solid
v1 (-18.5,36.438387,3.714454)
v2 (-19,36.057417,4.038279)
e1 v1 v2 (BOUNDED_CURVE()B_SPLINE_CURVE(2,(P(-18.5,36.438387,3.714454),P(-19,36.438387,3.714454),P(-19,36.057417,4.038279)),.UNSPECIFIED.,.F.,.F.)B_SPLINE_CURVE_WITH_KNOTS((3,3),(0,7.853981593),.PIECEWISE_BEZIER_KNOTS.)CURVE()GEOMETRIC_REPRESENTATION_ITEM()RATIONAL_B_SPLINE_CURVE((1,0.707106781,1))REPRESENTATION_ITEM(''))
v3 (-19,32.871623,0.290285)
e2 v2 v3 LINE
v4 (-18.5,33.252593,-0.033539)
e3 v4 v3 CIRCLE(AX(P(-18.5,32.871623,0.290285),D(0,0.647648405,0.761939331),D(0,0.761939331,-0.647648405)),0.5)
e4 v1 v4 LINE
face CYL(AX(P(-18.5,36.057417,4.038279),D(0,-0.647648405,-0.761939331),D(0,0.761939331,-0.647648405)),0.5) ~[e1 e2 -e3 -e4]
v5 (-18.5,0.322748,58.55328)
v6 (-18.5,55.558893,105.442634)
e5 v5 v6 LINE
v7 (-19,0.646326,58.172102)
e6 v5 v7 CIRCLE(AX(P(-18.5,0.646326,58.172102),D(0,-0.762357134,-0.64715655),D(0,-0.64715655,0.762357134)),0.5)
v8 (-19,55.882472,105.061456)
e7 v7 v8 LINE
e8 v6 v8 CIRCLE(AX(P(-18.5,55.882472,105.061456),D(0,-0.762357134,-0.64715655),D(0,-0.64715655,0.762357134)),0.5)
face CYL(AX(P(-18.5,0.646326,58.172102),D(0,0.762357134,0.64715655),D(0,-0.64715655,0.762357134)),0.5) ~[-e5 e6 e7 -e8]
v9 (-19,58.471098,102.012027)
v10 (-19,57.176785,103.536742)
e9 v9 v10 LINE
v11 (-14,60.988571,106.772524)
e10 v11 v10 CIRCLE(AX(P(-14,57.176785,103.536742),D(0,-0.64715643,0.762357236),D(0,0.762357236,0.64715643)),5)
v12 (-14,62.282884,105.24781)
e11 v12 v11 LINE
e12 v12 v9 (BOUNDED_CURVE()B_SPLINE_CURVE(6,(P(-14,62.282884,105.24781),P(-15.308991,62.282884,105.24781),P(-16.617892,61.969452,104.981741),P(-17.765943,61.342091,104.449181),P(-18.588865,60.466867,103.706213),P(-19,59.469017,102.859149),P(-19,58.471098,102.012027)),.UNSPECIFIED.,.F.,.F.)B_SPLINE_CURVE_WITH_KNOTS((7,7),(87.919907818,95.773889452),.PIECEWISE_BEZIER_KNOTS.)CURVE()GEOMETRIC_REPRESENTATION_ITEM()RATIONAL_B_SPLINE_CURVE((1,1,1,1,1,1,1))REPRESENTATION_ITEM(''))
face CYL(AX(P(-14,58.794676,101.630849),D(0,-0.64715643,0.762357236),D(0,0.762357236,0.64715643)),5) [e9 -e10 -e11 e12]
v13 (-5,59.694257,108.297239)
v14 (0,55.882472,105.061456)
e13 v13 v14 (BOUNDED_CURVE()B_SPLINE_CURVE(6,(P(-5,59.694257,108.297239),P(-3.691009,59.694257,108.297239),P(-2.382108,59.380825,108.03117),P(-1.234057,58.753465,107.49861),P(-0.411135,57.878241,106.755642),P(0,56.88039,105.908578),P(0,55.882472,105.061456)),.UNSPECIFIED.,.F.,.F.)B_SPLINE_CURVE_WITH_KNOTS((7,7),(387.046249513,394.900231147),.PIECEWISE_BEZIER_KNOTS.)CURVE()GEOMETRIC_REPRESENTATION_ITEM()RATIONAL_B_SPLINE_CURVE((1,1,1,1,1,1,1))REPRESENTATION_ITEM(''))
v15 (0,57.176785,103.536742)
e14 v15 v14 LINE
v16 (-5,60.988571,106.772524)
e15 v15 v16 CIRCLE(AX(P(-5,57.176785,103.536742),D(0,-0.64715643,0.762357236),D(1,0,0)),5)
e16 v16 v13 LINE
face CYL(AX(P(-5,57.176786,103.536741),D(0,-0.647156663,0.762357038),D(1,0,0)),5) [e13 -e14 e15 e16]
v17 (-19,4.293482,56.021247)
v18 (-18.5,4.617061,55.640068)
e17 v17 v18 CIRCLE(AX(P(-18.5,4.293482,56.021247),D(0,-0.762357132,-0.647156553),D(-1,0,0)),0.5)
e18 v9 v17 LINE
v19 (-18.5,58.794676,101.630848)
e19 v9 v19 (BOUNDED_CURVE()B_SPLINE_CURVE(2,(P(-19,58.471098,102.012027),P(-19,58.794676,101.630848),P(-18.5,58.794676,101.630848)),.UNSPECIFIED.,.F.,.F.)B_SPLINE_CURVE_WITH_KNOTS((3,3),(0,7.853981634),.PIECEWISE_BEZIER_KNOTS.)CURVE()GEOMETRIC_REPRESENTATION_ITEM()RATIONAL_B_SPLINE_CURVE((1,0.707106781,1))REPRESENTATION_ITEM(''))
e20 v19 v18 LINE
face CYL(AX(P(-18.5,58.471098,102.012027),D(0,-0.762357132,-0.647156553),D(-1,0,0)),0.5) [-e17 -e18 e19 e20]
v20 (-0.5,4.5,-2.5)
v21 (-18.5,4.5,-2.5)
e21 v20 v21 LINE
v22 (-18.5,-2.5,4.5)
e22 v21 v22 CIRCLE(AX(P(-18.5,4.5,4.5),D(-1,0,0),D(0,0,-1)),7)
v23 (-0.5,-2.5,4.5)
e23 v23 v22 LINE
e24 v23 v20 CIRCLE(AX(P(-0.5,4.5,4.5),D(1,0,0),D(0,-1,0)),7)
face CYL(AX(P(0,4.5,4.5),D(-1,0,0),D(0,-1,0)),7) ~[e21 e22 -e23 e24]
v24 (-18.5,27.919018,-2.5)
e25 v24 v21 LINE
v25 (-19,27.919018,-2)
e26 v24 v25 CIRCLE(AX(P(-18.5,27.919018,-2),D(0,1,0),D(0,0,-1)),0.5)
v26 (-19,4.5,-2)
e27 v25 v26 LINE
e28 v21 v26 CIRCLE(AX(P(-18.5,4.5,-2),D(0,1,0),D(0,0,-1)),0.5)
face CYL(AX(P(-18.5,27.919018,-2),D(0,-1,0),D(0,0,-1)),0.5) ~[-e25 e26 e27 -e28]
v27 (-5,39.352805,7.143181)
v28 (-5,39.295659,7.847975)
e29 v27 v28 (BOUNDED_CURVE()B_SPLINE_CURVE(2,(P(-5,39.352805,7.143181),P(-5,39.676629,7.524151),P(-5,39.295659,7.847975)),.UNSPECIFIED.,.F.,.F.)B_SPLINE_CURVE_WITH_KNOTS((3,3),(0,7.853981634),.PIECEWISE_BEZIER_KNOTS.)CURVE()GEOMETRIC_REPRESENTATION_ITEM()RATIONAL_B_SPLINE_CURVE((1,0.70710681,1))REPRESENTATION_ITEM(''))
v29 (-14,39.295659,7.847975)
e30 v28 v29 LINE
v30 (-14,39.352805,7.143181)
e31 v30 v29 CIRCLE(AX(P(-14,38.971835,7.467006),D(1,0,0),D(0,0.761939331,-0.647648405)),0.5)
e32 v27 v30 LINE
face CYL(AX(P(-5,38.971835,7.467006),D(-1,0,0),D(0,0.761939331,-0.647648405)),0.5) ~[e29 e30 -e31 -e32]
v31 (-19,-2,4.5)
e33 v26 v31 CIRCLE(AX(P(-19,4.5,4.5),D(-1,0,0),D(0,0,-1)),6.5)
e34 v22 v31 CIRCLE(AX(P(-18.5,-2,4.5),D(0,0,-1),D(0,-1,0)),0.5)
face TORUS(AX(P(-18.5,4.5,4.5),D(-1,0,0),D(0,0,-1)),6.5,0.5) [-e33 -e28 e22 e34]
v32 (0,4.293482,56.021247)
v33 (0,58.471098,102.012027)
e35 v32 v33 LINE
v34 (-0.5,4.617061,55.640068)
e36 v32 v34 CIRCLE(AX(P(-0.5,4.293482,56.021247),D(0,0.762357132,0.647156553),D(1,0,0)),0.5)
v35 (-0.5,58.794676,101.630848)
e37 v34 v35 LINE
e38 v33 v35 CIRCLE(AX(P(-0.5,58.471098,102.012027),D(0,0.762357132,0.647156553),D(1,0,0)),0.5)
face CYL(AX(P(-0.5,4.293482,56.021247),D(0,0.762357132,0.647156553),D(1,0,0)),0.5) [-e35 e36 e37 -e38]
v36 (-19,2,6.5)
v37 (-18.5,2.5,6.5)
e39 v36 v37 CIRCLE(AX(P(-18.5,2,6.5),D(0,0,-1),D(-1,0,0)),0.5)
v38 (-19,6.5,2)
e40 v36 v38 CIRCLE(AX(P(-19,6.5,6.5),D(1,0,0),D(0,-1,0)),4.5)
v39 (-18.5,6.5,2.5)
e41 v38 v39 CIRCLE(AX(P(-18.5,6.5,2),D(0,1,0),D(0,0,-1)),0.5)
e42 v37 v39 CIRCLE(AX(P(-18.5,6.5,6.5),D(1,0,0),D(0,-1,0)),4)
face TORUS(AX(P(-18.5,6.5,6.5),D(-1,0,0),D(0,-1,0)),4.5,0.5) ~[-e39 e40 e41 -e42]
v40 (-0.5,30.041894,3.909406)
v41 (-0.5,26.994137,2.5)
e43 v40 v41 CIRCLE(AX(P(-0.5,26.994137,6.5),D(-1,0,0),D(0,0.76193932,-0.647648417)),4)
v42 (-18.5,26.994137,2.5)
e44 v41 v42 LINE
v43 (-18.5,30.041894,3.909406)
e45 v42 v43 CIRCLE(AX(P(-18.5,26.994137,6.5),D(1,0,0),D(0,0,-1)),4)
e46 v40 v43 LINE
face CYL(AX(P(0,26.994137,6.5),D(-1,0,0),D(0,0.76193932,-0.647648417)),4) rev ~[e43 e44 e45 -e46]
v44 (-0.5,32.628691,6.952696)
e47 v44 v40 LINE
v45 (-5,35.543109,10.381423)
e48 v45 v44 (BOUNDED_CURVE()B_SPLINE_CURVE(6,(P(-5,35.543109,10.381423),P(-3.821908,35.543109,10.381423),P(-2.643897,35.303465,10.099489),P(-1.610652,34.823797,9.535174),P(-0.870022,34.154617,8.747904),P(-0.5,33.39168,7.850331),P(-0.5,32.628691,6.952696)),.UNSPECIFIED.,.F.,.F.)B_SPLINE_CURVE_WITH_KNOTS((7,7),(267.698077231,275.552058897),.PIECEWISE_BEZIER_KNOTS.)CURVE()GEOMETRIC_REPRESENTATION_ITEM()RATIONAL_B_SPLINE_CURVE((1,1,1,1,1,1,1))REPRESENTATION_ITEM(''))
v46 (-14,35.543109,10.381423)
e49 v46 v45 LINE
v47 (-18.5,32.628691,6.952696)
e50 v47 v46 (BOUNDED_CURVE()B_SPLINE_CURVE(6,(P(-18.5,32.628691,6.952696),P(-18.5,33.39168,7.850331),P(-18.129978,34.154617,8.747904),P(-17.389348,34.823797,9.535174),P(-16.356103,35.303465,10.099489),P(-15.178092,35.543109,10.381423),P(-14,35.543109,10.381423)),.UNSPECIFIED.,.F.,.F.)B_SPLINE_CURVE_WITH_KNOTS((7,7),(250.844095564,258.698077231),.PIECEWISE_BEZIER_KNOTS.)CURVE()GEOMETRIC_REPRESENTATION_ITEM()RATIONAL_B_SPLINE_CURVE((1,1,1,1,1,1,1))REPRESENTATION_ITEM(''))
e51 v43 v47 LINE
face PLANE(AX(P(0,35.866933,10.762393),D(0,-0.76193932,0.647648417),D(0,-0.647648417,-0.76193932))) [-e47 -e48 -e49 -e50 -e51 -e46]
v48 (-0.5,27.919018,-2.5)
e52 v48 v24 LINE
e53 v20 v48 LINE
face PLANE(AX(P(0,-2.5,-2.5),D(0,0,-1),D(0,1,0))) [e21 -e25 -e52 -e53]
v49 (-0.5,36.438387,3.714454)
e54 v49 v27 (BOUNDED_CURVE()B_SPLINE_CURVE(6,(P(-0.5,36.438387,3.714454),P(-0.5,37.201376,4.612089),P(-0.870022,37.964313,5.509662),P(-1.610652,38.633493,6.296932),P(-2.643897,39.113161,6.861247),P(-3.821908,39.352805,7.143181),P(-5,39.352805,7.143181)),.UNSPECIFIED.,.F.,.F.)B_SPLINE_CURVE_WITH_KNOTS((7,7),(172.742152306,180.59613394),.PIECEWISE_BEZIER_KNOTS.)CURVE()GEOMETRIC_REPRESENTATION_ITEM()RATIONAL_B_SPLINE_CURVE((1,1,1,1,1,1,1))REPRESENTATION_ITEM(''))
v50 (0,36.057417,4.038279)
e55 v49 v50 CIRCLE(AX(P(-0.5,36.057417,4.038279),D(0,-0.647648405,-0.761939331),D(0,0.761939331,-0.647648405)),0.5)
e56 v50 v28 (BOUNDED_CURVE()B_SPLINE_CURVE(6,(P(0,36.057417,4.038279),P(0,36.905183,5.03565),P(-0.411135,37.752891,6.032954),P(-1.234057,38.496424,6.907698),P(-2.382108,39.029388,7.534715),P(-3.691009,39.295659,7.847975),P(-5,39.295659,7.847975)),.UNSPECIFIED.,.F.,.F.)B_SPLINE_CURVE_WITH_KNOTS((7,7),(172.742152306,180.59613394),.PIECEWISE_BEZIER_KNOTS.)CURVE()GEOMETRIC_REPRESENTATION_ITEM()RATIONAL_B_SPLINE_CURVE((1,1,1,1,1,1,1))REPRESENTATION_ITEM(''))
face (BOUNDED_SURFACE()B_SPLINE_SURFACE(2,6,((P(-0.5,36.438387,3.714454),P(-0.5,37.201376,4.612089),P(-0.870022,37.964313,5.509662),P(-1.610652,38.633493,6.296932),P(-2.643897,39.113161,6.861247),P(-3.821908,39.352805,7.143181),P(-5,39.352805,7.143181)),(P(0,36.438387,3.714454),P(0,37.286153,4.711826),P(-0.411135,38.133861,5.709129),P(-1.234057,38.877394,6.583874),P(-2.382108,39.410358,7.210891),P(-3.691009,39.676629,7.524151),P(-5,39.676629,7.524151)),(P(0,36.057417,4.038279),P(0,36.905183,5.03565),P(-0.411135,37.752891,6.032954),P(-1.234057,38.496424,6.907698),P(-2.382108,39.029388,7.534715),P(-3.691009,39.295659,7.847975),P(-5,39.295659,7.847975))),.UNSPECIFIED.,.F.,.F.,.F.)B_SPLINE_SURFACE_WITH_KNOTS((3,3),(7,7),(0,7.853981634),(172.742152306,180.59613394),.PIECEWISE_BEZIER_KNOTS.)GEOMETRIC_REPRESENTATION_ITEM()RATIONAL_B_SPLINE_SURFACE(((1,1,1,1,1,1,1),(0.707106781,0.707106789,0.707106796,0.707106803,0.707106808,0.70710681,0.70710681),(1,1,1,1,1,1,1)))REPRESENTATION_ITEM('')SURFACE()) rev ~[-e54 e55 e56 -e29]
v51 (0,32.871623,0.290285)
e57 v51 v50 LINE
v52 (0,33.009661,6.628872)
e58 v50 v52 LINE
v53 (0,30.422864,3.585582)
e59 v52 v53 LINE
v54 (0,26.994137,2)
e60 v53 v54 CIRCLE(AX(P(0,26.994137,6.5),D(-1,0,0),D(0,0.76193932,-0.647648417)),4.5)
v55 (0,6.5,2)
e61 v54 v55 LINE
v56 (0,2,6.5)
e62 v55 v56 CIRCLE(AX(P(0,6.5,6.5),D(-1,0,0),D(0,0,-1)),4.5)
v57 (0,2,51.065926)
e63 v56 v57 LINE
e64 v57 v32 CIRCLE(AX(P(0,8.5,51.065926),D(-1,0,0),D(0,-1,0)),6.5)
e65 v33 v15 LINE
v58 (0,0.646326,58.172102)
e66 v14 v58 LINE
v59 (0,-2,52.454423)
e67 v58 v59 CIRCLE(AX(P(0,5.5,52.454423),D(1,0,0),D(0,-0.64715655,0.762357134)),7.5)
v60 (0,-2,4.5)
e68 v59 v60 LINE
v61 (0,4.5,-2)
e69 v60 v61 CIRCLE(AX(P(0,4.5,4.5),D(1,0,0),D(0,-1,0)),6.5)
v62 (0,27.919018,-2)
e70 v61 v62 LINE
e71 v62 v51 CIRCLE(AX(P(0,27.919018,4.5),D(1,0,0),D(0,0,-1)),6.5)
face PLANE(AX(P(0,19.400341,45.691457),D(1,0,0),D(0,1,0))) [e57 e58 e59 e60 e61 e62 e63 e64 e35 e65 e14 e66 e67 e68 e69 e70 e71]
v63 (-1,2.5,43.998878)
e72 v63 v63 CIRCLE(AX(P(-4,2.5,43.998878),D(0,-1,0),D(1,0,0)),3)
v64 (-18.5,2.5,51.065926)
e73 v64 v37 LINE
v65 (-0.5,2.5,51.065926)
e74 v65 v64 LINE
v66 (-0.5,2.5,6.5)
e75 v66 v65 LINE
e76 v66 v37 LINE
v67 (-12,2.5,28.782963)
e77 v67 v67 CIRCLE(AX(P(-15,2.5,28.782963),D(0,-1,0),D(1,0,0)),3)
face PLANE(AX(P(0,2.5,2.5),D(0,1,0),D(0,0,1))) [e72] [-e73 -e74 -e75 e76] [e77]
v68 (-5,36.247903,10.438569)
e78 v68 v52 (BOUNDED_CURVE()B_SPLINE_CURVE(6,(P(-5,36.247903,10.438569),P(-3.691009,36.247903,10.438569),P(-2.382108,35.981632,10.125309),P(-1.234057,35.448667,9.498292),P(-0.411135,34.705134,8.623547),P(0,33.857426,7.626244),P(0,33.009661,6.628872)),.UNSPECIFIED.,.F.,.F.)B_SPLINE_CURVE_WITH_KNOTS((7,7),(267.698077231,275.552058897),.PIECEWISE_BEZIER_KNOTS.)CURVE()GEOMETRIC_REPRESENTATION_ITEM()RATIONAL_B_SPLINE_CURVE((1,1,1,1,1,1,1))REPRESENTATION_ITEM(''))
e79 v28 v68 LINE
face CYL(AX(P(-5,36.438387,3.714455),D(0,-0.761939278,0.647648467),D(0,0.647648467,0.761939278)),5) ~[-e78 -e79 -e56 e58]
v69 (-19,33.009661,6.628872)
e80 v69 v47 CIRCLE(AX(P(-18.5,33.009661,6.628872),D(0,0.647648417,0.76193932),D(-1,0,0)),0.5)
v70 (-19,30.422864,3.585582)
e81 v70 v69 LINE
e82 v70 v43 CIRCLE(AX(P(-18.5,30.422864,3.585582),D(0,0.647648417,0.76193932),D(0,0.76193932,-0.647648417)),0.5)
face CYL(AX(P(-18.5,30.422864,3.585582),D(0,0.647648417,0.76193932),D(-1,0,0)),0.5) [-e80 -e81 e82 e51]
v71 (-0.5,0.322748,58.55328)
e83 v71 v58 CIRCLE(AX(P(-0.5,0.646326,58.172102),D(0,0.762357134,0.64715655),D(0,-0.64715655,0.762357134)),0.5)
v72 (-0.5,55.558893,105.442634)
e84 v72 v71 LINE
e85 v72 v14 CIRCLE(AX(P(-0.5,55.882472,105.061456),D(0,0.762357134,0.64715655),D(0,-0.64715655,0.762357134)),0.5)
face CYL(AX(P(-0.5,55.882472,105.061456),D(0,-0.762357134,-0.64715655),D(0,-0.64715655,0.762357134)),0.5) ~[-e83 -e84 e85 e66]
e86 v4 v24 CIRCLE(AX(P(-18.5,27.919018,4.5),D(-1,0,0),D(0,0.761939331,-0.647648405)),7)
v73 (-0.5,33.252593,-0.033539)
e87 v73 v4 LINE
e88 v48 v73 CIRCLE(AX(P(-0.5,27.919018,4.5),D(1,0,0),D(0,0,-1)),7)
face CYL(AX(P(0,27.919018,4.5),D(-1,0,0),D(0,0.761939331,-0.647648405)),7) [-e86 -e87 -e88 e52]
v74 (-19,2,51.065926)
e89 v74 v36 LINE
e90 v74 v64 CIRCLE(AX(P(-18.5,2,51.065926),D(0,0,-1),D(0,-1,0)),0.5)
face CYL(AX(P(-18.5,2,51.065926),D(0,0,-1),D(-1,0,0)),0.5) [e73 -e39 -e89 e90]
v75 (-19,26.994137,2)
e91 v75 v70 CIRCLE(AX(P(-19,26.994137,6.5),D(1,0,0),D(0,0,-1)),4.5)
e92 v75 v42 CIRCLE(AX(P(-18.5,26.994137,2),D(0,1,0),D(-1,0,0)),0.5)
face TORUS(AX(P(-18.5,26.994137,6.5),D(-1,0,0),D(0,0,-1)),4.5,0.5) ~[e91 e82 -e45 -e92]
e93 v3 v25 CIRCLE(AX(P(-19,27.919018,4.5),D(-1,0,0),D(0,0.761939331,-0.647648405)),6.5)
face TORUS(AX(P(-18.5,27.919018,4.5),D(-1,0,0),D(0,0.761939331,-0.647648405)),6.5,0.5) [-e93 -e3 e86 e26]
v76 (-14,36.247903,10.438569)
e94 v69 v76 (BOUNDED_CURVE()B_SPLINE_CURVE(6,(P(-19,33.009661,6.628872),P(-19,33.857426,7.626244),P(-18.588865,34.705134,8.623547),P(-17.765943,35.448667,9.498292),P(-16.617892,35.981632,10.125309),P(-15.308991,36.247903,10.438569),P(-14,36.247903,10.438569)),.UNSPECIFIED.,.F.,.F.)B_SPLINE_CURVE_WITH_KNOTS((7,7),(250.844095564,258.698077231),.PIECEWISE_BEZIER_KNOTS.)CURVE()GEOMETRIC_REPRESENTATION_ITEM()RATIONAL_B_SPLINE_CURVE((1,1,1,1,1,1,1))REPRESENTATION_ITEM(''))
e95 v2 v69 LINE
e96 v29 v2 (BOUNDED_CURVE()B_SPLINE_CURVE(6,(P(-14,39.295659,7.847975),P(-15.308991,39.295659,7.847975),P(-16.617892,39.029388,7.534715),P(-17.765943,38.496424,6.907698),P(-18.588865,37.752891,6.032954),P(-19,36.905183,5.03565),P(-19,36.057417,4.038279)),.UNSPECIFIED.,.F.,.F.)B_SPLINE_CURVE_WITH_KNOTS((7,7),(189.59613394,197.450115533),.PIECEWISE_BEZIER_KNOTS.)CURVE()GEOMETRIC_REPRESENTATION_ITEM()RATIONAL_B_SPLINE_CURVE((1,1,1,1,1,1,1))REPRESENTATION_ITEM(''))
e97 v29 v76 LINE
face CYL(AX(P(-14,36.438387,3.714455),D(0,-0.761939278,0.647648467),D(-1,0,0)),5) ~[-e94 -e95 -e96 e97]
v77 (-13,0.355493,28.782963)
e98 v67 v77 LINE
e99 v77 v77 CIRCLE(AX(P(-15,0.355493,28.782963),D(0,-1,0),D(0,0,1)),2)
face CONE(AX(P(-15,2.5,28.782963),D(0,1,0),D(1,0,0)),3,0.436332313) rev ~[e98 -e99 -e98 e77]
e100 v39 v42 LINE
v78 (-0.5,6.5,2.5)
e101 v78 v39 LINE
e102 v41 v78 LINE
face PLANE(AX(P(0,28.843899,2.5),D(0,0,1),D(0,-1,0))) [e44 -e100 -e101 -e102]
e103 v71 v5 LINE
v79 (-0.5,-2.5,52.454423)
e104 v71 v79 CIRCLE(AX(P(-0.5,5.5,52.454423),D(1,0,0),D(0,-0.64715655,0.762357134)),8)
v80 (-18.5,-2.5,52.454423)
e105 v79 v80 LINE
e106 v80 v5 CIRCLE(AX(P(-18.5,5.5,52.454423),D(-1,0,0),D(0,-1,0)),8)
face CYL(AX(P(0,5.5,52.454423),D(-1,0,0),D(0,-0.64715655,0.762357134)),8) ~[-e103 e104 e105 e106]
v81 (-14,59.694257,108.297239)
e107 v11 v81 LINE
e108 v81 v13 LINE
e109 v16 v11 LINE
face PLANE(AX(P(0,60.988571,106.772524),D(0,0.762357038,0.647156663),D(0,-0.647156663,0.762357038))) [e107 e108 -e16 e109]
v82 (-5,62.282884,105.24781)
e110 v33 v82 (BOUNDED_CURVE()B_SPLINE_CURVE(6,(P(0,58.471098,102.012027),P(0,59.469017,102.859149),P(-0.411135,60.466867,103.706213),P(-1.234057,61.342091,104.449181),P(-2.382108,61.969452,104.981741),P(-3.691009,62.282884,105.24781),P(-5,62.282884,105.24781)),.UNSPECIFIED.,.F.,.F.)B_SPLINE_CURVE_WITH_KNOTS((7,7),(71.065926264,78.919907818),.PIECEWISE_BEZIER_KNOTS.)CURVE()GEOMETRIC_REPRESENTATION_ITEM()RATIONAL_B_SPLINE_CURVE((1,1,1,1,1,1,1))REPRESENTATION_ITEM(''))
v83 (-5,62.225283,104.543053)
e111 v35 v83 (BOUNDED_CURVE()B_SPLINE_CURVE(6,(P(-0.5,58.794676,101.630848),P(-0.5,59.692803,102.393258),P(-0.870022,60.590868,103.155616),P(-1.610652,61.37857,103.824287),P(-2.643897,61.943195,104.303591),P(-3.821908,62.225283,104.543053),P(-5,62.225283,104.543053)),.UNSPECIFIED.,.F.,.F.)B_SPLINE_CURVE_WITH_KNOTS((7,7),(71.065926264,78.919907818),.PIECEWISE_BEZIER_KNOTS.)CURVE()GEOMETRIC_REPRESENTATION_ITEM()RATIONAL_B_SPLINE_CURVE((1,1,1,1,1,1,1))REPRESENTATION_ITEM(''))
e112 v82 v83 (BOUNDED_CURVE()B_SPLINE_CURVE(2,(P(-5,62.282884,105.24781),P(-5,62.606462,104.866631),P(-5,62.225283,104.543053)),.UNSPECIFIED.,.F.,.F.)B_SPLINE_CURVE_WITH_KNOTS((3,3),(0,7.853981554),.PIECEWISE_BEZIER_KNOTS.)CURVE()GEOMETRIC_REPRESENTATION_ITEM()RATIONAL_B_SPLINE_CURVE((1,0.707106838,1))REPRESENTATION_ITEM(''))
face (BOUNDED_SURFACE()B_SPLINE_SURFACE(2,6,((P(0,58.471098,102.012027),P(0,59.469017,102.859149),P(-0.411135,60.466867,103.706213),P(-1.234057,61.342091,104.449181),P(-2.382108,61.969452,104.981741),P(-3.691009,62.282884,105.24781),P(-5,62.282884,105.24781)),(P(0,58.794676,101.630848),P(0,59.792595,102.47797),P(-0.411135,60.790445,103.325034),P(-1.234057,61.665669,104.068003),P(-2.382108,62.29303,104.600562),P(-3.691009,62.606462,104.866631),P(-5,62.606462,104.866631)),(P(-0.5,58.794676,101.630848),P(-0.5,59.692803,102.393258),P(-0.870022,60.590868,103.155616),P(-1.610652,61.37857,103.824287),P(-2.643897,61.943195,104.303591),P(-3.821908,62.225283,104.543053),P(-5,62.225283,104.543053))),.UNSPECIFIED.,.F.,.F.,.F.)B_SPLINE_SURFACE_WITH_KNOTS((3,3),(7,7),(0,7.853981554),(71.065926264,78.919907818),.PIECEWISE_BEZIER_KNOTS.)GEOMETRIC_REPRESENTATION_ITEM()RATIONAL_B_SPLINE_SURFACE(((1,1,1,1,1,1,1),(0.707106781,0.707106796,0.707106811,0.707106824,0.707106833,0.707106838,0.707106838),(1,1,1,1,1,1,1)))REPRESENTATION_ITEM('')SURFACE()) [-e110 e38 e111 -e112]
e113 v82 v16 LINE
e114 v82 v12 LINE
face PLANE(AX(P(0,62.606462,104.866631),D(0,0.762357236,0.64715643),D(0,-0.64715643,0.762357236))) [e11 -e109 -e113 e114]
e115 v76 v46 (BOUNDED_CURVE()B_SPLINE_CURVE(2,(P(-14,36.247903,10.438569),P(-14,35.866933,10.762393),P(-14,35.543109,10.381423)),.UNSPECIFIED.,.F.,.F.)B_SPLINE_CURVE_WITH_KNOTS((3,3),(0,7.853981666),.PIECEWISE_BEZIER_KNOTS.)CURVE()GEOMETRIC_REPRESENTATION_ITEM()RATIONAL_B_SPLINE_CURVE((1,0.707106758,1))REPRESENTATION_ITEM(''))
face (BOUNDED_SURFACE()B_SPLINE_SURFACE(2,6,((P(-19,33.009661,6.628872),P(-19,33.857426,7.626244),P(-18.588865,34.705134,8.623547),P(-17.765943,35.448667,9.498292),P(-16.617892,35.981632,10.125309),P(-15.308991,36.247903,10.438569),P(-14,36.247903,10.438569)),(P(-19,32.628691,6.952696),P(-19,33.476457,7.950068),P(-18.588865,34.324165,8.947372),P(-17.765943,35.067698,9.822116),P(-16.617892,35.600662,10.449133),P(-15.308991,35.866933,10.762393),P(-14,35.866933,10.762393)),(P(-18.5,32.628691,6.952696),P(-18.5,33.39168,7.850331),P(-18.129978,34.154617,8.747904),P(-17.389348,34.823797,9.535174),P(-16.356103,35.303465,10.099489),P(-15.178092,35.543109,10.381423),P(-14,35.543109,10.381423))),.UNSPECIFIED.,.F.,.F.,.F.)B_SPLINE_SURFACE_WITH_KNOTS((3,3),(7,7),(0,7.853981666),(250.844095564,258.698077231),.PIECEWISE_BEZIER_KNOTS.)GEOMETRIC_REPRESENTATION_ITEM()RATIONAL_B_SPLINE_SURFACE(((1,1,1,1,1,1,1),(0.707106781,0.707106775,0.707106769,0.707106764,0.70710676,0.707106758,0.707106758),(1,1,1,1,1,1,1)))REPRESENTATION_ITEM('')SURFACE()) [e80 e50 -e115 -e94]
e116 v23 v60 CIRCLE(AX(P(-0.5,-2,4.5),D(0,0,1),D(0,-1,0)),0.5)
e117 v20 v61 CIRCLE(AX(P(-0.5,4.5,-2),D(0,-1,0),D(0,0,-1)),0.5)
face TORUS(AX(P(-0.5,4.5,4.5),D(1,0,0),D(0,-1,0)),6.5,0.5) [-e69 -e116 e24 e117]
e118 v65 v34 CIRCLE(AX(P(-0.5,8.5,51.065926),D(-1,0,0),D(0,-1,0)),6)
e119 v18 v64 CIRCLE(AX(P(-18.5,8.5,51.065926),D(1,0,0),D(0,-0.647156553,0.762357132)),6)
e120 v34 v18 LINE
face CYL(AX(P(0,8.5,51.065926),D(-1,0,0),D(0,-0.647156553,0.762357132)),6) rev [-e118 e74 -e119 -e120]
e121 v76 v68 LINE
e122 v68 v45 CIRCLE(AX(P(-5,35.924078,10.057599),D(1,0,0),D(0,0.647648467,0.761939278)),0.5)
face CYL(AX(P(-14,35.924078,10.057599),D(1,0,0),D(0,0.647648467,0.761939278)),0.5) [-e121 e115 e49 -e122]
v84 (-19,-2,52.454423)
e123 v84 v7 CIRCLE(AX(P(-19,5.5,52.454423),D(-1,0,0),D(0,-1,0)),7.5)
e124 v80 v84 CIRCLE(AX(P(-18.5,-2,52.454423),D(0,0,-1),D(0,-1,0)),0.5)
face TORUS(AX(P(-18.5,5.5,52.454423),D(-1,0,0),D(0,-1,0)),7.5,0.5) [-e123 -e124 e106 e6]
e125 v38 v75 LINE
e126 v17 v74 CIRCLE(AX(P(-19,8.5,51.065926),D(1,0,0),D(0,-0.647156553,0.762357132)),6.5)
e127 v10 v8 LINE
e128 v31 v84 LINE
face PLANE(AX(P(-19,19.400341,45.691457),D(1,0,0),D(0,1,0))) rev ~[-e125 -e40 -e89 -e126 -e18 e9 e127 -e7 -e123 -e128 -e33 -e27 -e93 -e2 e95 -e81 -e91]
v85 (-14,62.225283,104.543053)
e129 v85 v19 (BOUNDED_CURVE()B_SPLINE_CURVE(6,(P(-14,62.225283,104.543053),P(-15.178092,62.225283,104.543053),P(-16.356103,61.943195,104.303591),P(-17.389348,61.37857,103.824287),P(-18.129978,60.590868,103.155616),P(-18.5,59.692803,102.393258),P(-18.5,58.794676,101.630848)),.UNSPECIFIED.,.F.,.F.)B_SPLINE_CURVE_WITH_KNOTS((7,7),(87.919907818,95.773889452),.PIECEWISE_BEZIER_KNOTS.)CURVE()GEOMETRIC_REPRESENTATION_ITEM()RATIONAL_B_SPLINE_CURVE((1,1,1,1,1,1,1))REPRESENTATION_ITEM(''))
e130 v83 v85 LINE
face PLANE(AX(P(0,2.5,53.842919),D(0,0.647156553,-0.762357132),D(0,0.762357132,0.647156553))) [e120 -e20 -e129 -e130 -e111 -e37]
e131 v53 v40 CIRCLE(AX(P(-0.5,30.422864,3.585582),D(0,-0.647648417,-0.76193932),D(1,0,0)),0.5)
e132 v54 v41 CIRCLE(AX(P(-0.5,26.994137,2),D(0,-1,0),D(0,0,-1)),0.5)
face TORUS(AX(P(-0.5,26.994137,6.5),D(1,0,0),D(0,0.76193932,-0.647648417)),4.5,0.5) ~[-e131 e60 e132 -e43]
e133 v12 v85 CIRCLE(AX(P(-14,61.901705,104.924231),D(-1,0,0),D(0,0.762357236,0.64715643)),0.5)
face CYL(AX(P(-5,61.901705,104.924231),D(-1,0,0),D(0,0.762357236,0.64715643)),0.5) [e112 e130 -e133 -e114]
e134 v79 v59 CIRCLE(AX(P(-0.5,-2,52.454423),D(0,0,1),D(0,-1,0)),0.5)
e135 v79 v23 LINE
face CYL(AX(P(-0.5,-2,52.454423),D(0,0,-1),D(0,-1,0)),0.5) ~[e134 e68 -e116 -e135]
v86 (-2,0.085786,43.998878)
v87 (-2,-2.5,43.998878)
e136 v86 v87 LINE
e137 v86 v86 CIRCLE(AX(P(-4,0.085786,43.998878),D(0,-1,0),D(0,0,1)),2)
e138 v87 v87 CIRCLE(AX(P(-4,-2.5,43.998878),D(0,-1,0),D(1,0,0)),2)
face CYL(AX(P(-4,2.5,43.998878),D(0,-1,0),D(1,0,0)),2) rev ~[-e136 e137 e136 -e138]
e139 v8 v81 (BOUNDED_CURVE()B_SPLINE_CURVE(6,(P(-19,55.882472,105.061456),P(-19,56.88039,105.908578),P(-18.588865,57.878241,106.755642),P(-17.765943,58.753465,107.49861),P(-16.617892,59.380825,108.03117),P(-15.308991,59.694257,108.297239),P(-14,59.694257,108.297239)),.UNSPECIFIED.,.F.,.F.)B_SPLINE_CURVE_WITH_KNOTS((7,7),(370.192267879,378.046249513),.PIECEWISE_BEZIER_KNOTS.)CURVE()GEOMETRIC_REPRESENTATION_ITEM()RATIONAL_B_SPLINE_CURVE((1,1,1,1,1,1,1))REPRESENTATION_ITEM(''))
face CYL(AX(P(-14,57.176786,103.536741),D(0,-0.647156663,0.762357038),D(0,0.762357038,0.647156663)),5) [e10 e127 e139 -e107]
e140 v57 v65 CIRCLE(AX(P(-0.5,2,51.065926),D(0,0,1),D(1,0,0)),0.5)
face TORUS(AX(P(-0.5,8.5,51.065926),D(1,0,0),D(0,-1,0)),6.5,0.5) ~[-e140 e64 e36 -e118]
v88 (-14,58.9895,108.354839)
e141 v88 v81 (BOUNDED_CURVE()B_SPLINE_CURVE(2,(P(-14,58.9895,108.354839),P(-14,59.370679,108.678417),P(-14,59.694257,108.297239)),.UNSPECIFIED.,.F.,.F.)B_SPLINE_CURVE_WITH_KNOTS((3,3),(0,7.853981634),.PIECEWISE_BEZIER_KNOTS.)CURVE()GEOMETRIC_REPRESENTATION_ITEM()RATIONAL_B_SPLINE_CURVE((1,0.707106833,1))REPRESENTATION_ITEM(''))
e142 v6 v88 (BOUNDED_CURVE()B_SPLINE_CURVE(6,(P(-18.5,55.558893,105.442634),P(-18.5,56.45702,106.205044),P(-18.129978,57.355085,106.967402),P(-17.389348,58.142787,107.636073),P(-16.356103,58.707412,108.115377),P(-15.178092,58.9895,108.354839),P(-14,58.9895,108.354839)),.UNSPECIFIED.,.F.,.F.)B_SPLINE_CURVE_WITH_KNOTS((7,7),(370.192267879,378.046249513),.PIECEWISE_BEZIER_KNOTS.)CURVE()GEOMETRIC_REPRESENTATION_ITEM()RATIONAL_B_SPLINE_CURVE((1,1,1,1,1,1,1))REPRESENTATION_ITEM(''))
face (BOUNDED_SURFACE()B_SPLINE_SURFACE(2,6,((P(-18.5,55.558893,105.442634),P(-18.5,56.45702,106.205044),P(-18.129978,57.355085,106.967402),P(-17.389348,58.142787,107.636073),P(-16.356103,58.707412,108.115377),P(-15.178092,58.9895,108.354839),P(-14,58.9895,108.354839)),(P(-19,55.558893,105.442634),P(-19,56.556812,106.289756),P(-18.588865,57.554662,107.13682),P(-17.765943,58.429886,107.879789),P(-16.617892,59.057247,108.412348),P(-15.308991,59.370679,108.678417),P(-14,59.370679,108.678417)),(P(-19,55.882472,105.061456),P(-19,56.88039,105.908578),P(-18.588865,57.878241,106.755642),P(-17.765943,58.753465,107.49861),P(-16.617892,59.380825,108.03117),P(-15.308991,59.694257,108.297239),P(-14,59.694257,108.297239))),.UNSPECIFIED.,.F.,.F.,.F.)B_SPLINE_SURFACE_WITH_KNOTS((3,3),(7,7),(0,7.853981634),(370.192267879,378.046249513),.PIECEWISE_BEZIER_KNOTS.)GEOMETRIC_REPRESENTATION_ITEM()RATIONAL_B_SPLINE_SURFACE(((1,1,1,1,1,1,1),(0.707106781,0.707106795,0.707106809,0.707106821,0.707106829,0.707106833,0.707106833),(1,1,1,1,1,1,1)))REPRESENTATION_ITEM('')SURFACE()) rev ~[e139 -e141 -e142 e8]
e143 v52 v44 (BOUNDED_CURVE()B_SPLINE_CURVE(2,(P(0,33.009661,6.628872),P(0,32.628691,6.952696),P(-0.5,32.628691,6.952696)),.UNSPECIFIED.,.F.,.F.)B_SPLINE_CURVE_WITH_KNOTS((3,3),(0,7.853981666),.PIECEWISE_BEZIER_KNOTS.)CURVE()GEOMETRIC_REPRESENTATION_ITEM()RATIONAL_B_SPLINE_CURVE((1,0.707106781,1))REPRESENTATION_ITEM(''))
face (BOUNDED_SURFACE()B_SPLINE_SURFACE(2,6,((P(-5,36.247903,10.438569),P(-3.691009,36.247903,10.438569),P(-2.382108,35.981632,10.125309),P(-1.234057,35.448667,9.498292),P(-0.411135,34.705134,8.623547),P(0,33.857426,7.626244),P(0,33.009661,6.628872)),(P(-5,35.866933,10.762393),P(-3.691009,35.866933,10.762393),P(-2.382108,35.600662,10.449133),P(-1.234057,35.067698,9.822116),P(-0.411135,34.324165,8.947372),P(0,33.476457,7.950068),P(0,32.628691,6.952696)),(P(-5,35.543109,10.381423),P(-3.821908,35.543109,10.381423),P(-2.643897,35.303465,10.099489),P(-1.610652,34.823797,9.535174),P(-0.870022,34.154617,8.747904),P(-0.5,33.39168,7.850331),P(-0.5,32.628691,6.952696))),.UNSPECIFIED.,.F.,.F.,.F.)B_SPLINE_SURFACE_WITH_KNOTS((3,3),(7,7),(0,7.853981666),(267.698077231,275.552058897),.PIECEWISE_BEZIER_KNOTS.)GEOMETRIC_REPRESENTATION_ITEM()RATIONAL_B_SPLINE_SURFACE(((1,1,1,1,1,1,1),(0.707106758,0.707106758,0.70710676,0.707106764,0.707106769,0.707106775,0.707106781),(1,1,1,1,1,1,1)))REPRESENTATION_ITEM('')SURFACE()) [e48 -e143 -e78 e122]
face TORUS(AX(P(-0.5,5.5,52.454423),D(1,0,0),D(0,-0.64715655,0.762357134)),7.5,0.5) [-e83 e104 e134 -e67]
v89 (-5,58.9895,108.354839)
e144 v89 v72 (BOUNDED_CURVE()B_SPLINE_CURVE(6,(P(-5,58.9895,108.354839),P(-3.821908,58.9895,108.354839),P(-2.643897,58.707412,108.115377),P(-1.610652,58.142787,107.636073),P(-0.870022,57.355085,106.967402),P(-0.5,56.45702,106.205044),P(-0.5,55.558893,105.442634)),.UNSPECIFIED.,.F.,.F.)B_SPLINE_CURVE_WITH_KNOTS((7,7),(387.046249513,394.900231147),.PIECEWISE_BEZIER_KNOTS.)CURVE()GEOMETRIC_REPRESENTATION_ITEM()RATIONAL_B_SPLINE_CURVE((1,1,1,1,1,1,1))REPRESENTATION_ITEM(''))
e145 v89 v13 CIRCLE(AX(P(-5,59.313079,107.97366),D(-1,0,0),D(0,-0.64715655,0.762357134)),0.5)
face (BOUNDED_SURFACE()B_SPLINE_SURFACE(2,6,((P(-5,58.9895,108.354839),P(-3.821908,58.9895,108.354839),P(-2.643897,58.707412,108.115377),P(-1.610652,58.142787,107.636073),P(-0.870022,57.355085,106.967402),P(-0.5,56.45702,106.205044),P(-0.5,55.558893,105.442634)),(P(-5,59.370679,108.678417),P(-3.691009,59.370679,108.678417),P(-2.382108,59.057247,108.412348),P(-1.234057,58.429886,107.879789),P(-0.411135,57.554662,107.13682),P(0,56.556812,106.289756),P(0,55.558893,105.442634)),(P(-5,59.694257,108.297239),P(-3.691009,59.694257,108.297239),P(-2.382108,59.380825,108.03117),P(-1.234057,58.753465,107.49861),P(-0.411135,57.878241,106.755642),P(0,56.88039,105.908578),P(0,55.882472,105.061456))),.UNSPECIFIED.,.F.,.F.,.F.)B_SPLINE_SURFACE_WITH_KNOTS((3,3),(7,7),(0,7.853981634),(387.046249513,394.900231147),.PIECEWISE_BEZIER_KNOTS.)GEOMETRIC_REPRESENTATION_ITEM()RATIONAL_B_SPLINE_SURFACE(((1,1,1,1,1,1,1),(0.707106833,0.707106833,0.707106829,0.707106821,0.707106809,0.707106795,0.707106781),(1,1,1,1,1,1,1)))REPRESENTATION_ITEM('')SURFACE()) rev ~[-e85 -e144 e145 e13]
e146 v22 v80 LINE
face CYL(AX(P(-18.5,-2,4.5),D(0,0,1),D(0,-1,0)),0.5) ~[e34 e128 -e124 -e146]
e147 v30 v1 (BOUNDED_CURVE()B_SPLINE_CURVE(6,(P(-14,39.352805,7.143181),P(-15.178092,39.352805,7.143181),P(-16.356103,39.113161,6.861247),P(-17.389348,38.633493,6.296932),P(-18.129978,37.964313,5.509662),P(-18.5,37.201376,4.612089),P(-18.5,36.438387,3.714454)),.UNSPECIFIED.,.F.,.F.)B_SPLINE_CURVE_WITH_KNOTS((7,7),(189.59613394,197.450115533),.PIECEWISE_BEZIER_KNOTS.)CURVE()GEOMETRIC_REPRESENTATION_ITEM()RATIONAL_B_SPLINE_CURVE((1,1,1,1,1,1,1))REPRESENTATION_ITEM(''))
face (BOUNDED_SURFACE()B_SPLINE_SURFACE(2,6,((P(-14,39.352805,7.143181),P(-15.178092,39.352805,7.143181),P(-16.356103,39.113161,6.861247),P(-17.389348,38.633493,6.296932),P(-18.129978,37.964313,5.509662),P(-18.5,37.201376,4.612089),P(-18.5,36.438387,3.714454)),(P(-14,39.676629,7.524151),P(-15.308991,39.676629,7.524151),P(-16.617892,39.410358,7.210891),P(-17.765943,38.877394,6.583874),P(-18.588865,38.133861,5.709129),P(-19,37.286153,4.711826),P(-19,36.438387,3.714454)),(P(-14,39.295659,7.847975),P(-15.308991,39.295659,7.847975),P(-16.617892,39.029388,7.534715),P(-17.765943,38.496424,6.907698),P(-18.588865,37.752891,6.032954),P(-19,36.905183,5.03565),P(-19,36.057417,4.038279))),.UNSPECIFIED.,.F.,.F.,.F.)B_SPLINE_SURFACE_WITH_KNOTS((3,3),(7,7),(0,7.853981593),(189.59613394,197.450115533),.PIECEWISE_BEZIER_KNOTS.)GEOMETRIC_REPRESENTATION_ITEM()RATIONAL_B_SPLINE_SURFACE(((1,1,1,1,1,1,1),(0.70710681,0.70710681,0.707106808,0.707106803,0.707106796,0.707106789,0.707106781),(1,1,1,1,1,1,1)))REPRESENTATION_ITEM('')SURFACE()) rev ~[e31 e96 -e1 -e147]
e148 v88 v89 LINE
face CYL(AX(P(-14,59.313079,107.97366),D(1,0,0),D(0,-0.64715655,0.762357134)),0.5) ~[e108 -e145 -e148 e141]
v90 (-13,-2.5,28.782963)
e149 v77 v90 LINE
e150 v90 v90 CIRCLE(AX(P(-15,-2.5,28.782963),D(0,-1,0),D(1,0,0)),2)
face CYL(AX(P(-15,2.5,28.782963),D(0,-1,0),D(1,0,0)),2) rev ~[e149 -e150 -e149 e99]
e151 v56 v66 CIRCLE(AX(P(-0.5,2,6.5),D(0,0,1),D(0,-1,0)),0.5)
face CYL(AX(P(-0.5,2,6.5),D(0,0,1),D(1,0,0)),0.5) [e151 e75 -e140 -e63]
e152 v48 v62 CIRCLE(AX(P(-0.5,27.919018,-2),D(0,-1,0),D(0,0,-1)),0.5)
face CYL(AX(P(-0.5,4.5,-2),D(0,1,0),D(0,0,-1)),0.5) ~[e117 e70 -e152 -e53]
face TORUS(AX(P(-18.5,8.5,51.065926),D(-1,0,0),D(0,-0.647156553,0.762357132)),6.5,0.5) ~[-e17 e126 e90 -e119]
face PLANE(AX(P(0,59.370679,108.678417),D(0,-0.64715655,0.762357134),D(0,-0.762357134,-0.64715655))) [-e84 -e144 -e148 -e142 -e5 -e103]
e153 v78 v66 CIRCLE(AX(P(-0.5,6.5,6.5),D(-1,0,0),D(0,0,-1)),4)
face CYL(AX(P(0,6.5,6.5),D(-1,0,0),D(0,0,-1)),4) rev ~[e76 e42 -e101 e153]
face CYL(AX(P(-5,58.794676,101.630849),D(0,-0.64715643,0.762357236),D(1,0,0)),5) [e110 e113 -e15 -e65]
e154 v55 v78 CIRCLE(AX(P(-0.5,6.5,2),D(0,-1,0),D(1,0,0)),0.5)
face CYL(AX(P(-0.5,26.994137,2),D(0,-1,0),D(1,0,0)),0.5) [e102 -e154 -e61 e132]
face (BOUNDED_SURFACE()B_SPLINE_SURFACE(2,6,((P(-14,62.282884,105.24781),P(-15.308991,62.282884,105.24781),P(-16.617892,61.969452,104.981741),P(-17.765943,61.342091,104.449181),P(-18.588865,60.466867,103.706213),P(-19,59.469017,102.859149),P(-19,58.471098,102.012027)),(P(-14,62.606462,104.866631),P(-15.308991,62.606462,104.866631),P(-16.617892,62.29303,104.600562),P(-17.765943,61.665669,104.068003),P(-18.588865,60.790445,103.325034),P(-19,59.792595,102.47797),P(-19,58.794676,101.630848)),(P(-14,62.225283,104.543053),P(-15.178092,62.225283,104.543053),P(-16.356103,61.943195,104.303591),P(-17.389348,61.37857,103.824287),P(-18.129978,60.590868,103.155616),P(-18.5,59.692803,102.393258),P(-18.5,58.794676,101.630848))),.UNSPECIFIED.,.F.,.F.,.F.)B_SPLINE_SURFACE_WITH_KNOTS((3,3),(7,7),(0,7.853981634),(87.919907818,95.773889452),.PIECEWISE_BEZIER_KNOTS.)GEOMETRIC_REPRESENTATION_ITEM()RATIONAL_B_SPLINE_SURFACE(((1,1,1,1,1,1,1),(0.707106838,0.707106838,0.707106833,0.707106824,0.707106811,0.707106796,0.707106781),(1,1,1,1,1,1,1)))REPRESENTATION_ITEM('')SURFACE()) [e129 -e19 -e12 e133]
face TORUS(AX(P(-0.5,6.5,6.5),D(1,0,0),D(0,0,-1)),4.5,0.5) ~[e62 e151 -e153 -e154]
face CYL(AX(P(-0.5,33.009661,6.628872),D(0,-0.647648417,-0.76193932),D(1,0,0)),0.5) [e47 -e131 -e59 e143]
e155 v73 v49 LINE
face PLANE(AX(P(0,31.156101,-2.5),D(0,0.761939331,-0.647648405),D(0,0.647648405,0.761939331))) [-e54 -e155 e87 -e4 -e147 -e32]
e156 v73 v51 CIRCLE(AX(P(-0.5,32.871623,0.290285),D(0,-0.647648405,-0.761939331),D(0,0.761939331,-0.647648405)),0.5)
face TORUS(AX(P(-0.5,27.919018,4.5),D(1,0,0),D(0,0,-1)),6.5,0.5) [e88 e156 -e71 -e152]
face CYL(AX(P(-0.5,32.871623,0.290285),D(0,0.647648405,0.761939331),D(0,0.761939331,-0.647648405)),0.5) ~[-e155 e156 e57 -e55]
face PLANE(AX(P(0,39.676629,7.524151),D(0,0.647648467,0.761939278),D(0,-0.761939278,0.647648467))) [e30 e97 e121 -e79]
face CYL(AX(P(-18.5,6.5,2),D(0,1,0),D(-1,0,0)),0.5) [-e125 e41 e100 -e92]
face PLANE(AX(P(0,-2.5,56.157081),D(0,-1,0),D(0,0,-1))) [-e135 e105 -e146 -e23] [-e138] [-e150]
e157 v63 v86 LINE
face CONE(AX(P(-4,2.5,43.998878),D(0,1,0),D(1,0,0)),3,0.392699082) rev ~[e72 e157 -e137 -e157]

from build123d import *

# Parameters (mm, degrees)
F1_DEPTH        = 19
F2_R            = 8
F3_R            = 6
F4_R            = 7
F5_R            = 4
F6_R            = 7
F7_R            = 4
F8_R            = 5
F9_R            = 5
F10_R           = 5
F11_R           = 5
F13_D           = 4
F13_CSINK_D     = 6
F13_CSINK_ANGLE = 45
F15_D           = 4
F15_CSINK_D     = 6
F15_CSINK_ANGLE = 50
F16_R           = 0.5
F17_R           = 0.5


with BuildPart() as f1:
    # F0 (on Right) → F1 (new body)
    with BuildSketch(Plane.YZ):
        Polygon((39.676629, 7.524151), (37.771781, 9.143272), (35.866933, 10.762393), (28.843899, 2.5), (2.5, 2.5), (2.5, 53.842919), (62.606462, 104.866631), (60.988571, 106.772524), (59.370679, 108.678417), (-2.5, 56.157081), (-2.5, -2.5), (0, -2.5), (31.156101, -2.5), align=None)
    extrude(amount=-F1_DEPTH)

    # F2
    f2_edges = [f1.edges().sort_by_distance(p)[0] for p in [
        (-9.5, -2.5, 56.157081),
    ]]
    fillet(f2_edges, radius=F2_R)

    # F3
    f3_edges = [f1.edges().sort_by_distance(p)[0] for p in [
        (-9.5, 2.5, 53.842919),
    ]]
    fillet(f3_edges, radius=F3_R)

    # F4
    f4_edges = [f1.edges().sort_by_distance(p)[0] for p in [
        (-9.5, -2.5, -2.5),
    ]]
    fillet(f4_edges, radius=F4_R)

    # F5
    f5_edges = [f1.edges().sort_by_distance(p)[0] for p in [
        (-9.5, 2.5, 2.5),
    ]]
    fillet(f5_edges, radius=F5_R)

    # F6
    f6_edges = [f1.edges().sort_by_distance(p)[0] for p in [
        (-9.5, 31.156101, -2.5),
    ]]
    fillet(f6_edges, radius=F6_R)

    # F7
    f7_edges = [f1.edges().sort_by_distance(p)[0] for p in [
        (-9.5, 28.843899, 2.5),
    ]]
    fillet(f7_edges, radius=F7_R)

    # F8
    f8_edges = [f1.edges().sort_by_distance(p)[0] for p in [
        (0, 60.988571, 106.772524),
    ]]
    fillet(f8_edges, radius=F8_R)

    # F9
    f9_edges = [f1.edges().sort_by_distance(p)[0] for p in [
        (-19, 60.988571, 106.772524),
    ]]
    fillet(f9_edges, radius=F9_R)

    # F10
    f10_edges = [f1.edges().sort_by_distance(p)[0] for p in [
        (-19, 37.771781, 9.143272),
    ]]
    fillet(f10_edges, radius=F10_R)

    # F11
    f11_edges = [f1.edges().sort_by_distance(p)[0] for p in [
        (0, 37.771781, 9.143272),
    ]]
    fillet(f11_edges, radius=F11_R)

    # F13 (through all)
    with Locations(Plane(origin=(0, 2.5, 0), x_dir=(-1, 0, 0), z_dir=(0, 1, 0))):
        with Locations((4, 43.998878)):
            CounterSinkHole(F13_D / 2, F13_CSINK_D / 2, counter_sink_angle=F13_CSINK_ANGLE)

    # F15 (through all)
    with Locations(Plane(origin=(0, 2.5, 0), x_dir=(-1, 0, 0), z_dir=(0, 1, 0))):
        with Locations((15, 28.782963)):
            CounterSinkHole(F15_D / 2, F15_CSINK_D / 2, counter_sink_angle=F15_CSINK_ANGLE)

    # F16
    f16_edges = [f1.edges().sort_by_distance(p)[0] for p in [
        (0, 27.940821, 81.997957),
    ]]
    fillet(f16_edges, radius=F16_R)

    # F17
    f17_edges = [f1.edges().sort_by_distance(p)[0] for p in [
        (0, 31.705869, 78.635459),
    ]]
    fillet(f17_edges, radius=F17_R)


solid = f1.part
